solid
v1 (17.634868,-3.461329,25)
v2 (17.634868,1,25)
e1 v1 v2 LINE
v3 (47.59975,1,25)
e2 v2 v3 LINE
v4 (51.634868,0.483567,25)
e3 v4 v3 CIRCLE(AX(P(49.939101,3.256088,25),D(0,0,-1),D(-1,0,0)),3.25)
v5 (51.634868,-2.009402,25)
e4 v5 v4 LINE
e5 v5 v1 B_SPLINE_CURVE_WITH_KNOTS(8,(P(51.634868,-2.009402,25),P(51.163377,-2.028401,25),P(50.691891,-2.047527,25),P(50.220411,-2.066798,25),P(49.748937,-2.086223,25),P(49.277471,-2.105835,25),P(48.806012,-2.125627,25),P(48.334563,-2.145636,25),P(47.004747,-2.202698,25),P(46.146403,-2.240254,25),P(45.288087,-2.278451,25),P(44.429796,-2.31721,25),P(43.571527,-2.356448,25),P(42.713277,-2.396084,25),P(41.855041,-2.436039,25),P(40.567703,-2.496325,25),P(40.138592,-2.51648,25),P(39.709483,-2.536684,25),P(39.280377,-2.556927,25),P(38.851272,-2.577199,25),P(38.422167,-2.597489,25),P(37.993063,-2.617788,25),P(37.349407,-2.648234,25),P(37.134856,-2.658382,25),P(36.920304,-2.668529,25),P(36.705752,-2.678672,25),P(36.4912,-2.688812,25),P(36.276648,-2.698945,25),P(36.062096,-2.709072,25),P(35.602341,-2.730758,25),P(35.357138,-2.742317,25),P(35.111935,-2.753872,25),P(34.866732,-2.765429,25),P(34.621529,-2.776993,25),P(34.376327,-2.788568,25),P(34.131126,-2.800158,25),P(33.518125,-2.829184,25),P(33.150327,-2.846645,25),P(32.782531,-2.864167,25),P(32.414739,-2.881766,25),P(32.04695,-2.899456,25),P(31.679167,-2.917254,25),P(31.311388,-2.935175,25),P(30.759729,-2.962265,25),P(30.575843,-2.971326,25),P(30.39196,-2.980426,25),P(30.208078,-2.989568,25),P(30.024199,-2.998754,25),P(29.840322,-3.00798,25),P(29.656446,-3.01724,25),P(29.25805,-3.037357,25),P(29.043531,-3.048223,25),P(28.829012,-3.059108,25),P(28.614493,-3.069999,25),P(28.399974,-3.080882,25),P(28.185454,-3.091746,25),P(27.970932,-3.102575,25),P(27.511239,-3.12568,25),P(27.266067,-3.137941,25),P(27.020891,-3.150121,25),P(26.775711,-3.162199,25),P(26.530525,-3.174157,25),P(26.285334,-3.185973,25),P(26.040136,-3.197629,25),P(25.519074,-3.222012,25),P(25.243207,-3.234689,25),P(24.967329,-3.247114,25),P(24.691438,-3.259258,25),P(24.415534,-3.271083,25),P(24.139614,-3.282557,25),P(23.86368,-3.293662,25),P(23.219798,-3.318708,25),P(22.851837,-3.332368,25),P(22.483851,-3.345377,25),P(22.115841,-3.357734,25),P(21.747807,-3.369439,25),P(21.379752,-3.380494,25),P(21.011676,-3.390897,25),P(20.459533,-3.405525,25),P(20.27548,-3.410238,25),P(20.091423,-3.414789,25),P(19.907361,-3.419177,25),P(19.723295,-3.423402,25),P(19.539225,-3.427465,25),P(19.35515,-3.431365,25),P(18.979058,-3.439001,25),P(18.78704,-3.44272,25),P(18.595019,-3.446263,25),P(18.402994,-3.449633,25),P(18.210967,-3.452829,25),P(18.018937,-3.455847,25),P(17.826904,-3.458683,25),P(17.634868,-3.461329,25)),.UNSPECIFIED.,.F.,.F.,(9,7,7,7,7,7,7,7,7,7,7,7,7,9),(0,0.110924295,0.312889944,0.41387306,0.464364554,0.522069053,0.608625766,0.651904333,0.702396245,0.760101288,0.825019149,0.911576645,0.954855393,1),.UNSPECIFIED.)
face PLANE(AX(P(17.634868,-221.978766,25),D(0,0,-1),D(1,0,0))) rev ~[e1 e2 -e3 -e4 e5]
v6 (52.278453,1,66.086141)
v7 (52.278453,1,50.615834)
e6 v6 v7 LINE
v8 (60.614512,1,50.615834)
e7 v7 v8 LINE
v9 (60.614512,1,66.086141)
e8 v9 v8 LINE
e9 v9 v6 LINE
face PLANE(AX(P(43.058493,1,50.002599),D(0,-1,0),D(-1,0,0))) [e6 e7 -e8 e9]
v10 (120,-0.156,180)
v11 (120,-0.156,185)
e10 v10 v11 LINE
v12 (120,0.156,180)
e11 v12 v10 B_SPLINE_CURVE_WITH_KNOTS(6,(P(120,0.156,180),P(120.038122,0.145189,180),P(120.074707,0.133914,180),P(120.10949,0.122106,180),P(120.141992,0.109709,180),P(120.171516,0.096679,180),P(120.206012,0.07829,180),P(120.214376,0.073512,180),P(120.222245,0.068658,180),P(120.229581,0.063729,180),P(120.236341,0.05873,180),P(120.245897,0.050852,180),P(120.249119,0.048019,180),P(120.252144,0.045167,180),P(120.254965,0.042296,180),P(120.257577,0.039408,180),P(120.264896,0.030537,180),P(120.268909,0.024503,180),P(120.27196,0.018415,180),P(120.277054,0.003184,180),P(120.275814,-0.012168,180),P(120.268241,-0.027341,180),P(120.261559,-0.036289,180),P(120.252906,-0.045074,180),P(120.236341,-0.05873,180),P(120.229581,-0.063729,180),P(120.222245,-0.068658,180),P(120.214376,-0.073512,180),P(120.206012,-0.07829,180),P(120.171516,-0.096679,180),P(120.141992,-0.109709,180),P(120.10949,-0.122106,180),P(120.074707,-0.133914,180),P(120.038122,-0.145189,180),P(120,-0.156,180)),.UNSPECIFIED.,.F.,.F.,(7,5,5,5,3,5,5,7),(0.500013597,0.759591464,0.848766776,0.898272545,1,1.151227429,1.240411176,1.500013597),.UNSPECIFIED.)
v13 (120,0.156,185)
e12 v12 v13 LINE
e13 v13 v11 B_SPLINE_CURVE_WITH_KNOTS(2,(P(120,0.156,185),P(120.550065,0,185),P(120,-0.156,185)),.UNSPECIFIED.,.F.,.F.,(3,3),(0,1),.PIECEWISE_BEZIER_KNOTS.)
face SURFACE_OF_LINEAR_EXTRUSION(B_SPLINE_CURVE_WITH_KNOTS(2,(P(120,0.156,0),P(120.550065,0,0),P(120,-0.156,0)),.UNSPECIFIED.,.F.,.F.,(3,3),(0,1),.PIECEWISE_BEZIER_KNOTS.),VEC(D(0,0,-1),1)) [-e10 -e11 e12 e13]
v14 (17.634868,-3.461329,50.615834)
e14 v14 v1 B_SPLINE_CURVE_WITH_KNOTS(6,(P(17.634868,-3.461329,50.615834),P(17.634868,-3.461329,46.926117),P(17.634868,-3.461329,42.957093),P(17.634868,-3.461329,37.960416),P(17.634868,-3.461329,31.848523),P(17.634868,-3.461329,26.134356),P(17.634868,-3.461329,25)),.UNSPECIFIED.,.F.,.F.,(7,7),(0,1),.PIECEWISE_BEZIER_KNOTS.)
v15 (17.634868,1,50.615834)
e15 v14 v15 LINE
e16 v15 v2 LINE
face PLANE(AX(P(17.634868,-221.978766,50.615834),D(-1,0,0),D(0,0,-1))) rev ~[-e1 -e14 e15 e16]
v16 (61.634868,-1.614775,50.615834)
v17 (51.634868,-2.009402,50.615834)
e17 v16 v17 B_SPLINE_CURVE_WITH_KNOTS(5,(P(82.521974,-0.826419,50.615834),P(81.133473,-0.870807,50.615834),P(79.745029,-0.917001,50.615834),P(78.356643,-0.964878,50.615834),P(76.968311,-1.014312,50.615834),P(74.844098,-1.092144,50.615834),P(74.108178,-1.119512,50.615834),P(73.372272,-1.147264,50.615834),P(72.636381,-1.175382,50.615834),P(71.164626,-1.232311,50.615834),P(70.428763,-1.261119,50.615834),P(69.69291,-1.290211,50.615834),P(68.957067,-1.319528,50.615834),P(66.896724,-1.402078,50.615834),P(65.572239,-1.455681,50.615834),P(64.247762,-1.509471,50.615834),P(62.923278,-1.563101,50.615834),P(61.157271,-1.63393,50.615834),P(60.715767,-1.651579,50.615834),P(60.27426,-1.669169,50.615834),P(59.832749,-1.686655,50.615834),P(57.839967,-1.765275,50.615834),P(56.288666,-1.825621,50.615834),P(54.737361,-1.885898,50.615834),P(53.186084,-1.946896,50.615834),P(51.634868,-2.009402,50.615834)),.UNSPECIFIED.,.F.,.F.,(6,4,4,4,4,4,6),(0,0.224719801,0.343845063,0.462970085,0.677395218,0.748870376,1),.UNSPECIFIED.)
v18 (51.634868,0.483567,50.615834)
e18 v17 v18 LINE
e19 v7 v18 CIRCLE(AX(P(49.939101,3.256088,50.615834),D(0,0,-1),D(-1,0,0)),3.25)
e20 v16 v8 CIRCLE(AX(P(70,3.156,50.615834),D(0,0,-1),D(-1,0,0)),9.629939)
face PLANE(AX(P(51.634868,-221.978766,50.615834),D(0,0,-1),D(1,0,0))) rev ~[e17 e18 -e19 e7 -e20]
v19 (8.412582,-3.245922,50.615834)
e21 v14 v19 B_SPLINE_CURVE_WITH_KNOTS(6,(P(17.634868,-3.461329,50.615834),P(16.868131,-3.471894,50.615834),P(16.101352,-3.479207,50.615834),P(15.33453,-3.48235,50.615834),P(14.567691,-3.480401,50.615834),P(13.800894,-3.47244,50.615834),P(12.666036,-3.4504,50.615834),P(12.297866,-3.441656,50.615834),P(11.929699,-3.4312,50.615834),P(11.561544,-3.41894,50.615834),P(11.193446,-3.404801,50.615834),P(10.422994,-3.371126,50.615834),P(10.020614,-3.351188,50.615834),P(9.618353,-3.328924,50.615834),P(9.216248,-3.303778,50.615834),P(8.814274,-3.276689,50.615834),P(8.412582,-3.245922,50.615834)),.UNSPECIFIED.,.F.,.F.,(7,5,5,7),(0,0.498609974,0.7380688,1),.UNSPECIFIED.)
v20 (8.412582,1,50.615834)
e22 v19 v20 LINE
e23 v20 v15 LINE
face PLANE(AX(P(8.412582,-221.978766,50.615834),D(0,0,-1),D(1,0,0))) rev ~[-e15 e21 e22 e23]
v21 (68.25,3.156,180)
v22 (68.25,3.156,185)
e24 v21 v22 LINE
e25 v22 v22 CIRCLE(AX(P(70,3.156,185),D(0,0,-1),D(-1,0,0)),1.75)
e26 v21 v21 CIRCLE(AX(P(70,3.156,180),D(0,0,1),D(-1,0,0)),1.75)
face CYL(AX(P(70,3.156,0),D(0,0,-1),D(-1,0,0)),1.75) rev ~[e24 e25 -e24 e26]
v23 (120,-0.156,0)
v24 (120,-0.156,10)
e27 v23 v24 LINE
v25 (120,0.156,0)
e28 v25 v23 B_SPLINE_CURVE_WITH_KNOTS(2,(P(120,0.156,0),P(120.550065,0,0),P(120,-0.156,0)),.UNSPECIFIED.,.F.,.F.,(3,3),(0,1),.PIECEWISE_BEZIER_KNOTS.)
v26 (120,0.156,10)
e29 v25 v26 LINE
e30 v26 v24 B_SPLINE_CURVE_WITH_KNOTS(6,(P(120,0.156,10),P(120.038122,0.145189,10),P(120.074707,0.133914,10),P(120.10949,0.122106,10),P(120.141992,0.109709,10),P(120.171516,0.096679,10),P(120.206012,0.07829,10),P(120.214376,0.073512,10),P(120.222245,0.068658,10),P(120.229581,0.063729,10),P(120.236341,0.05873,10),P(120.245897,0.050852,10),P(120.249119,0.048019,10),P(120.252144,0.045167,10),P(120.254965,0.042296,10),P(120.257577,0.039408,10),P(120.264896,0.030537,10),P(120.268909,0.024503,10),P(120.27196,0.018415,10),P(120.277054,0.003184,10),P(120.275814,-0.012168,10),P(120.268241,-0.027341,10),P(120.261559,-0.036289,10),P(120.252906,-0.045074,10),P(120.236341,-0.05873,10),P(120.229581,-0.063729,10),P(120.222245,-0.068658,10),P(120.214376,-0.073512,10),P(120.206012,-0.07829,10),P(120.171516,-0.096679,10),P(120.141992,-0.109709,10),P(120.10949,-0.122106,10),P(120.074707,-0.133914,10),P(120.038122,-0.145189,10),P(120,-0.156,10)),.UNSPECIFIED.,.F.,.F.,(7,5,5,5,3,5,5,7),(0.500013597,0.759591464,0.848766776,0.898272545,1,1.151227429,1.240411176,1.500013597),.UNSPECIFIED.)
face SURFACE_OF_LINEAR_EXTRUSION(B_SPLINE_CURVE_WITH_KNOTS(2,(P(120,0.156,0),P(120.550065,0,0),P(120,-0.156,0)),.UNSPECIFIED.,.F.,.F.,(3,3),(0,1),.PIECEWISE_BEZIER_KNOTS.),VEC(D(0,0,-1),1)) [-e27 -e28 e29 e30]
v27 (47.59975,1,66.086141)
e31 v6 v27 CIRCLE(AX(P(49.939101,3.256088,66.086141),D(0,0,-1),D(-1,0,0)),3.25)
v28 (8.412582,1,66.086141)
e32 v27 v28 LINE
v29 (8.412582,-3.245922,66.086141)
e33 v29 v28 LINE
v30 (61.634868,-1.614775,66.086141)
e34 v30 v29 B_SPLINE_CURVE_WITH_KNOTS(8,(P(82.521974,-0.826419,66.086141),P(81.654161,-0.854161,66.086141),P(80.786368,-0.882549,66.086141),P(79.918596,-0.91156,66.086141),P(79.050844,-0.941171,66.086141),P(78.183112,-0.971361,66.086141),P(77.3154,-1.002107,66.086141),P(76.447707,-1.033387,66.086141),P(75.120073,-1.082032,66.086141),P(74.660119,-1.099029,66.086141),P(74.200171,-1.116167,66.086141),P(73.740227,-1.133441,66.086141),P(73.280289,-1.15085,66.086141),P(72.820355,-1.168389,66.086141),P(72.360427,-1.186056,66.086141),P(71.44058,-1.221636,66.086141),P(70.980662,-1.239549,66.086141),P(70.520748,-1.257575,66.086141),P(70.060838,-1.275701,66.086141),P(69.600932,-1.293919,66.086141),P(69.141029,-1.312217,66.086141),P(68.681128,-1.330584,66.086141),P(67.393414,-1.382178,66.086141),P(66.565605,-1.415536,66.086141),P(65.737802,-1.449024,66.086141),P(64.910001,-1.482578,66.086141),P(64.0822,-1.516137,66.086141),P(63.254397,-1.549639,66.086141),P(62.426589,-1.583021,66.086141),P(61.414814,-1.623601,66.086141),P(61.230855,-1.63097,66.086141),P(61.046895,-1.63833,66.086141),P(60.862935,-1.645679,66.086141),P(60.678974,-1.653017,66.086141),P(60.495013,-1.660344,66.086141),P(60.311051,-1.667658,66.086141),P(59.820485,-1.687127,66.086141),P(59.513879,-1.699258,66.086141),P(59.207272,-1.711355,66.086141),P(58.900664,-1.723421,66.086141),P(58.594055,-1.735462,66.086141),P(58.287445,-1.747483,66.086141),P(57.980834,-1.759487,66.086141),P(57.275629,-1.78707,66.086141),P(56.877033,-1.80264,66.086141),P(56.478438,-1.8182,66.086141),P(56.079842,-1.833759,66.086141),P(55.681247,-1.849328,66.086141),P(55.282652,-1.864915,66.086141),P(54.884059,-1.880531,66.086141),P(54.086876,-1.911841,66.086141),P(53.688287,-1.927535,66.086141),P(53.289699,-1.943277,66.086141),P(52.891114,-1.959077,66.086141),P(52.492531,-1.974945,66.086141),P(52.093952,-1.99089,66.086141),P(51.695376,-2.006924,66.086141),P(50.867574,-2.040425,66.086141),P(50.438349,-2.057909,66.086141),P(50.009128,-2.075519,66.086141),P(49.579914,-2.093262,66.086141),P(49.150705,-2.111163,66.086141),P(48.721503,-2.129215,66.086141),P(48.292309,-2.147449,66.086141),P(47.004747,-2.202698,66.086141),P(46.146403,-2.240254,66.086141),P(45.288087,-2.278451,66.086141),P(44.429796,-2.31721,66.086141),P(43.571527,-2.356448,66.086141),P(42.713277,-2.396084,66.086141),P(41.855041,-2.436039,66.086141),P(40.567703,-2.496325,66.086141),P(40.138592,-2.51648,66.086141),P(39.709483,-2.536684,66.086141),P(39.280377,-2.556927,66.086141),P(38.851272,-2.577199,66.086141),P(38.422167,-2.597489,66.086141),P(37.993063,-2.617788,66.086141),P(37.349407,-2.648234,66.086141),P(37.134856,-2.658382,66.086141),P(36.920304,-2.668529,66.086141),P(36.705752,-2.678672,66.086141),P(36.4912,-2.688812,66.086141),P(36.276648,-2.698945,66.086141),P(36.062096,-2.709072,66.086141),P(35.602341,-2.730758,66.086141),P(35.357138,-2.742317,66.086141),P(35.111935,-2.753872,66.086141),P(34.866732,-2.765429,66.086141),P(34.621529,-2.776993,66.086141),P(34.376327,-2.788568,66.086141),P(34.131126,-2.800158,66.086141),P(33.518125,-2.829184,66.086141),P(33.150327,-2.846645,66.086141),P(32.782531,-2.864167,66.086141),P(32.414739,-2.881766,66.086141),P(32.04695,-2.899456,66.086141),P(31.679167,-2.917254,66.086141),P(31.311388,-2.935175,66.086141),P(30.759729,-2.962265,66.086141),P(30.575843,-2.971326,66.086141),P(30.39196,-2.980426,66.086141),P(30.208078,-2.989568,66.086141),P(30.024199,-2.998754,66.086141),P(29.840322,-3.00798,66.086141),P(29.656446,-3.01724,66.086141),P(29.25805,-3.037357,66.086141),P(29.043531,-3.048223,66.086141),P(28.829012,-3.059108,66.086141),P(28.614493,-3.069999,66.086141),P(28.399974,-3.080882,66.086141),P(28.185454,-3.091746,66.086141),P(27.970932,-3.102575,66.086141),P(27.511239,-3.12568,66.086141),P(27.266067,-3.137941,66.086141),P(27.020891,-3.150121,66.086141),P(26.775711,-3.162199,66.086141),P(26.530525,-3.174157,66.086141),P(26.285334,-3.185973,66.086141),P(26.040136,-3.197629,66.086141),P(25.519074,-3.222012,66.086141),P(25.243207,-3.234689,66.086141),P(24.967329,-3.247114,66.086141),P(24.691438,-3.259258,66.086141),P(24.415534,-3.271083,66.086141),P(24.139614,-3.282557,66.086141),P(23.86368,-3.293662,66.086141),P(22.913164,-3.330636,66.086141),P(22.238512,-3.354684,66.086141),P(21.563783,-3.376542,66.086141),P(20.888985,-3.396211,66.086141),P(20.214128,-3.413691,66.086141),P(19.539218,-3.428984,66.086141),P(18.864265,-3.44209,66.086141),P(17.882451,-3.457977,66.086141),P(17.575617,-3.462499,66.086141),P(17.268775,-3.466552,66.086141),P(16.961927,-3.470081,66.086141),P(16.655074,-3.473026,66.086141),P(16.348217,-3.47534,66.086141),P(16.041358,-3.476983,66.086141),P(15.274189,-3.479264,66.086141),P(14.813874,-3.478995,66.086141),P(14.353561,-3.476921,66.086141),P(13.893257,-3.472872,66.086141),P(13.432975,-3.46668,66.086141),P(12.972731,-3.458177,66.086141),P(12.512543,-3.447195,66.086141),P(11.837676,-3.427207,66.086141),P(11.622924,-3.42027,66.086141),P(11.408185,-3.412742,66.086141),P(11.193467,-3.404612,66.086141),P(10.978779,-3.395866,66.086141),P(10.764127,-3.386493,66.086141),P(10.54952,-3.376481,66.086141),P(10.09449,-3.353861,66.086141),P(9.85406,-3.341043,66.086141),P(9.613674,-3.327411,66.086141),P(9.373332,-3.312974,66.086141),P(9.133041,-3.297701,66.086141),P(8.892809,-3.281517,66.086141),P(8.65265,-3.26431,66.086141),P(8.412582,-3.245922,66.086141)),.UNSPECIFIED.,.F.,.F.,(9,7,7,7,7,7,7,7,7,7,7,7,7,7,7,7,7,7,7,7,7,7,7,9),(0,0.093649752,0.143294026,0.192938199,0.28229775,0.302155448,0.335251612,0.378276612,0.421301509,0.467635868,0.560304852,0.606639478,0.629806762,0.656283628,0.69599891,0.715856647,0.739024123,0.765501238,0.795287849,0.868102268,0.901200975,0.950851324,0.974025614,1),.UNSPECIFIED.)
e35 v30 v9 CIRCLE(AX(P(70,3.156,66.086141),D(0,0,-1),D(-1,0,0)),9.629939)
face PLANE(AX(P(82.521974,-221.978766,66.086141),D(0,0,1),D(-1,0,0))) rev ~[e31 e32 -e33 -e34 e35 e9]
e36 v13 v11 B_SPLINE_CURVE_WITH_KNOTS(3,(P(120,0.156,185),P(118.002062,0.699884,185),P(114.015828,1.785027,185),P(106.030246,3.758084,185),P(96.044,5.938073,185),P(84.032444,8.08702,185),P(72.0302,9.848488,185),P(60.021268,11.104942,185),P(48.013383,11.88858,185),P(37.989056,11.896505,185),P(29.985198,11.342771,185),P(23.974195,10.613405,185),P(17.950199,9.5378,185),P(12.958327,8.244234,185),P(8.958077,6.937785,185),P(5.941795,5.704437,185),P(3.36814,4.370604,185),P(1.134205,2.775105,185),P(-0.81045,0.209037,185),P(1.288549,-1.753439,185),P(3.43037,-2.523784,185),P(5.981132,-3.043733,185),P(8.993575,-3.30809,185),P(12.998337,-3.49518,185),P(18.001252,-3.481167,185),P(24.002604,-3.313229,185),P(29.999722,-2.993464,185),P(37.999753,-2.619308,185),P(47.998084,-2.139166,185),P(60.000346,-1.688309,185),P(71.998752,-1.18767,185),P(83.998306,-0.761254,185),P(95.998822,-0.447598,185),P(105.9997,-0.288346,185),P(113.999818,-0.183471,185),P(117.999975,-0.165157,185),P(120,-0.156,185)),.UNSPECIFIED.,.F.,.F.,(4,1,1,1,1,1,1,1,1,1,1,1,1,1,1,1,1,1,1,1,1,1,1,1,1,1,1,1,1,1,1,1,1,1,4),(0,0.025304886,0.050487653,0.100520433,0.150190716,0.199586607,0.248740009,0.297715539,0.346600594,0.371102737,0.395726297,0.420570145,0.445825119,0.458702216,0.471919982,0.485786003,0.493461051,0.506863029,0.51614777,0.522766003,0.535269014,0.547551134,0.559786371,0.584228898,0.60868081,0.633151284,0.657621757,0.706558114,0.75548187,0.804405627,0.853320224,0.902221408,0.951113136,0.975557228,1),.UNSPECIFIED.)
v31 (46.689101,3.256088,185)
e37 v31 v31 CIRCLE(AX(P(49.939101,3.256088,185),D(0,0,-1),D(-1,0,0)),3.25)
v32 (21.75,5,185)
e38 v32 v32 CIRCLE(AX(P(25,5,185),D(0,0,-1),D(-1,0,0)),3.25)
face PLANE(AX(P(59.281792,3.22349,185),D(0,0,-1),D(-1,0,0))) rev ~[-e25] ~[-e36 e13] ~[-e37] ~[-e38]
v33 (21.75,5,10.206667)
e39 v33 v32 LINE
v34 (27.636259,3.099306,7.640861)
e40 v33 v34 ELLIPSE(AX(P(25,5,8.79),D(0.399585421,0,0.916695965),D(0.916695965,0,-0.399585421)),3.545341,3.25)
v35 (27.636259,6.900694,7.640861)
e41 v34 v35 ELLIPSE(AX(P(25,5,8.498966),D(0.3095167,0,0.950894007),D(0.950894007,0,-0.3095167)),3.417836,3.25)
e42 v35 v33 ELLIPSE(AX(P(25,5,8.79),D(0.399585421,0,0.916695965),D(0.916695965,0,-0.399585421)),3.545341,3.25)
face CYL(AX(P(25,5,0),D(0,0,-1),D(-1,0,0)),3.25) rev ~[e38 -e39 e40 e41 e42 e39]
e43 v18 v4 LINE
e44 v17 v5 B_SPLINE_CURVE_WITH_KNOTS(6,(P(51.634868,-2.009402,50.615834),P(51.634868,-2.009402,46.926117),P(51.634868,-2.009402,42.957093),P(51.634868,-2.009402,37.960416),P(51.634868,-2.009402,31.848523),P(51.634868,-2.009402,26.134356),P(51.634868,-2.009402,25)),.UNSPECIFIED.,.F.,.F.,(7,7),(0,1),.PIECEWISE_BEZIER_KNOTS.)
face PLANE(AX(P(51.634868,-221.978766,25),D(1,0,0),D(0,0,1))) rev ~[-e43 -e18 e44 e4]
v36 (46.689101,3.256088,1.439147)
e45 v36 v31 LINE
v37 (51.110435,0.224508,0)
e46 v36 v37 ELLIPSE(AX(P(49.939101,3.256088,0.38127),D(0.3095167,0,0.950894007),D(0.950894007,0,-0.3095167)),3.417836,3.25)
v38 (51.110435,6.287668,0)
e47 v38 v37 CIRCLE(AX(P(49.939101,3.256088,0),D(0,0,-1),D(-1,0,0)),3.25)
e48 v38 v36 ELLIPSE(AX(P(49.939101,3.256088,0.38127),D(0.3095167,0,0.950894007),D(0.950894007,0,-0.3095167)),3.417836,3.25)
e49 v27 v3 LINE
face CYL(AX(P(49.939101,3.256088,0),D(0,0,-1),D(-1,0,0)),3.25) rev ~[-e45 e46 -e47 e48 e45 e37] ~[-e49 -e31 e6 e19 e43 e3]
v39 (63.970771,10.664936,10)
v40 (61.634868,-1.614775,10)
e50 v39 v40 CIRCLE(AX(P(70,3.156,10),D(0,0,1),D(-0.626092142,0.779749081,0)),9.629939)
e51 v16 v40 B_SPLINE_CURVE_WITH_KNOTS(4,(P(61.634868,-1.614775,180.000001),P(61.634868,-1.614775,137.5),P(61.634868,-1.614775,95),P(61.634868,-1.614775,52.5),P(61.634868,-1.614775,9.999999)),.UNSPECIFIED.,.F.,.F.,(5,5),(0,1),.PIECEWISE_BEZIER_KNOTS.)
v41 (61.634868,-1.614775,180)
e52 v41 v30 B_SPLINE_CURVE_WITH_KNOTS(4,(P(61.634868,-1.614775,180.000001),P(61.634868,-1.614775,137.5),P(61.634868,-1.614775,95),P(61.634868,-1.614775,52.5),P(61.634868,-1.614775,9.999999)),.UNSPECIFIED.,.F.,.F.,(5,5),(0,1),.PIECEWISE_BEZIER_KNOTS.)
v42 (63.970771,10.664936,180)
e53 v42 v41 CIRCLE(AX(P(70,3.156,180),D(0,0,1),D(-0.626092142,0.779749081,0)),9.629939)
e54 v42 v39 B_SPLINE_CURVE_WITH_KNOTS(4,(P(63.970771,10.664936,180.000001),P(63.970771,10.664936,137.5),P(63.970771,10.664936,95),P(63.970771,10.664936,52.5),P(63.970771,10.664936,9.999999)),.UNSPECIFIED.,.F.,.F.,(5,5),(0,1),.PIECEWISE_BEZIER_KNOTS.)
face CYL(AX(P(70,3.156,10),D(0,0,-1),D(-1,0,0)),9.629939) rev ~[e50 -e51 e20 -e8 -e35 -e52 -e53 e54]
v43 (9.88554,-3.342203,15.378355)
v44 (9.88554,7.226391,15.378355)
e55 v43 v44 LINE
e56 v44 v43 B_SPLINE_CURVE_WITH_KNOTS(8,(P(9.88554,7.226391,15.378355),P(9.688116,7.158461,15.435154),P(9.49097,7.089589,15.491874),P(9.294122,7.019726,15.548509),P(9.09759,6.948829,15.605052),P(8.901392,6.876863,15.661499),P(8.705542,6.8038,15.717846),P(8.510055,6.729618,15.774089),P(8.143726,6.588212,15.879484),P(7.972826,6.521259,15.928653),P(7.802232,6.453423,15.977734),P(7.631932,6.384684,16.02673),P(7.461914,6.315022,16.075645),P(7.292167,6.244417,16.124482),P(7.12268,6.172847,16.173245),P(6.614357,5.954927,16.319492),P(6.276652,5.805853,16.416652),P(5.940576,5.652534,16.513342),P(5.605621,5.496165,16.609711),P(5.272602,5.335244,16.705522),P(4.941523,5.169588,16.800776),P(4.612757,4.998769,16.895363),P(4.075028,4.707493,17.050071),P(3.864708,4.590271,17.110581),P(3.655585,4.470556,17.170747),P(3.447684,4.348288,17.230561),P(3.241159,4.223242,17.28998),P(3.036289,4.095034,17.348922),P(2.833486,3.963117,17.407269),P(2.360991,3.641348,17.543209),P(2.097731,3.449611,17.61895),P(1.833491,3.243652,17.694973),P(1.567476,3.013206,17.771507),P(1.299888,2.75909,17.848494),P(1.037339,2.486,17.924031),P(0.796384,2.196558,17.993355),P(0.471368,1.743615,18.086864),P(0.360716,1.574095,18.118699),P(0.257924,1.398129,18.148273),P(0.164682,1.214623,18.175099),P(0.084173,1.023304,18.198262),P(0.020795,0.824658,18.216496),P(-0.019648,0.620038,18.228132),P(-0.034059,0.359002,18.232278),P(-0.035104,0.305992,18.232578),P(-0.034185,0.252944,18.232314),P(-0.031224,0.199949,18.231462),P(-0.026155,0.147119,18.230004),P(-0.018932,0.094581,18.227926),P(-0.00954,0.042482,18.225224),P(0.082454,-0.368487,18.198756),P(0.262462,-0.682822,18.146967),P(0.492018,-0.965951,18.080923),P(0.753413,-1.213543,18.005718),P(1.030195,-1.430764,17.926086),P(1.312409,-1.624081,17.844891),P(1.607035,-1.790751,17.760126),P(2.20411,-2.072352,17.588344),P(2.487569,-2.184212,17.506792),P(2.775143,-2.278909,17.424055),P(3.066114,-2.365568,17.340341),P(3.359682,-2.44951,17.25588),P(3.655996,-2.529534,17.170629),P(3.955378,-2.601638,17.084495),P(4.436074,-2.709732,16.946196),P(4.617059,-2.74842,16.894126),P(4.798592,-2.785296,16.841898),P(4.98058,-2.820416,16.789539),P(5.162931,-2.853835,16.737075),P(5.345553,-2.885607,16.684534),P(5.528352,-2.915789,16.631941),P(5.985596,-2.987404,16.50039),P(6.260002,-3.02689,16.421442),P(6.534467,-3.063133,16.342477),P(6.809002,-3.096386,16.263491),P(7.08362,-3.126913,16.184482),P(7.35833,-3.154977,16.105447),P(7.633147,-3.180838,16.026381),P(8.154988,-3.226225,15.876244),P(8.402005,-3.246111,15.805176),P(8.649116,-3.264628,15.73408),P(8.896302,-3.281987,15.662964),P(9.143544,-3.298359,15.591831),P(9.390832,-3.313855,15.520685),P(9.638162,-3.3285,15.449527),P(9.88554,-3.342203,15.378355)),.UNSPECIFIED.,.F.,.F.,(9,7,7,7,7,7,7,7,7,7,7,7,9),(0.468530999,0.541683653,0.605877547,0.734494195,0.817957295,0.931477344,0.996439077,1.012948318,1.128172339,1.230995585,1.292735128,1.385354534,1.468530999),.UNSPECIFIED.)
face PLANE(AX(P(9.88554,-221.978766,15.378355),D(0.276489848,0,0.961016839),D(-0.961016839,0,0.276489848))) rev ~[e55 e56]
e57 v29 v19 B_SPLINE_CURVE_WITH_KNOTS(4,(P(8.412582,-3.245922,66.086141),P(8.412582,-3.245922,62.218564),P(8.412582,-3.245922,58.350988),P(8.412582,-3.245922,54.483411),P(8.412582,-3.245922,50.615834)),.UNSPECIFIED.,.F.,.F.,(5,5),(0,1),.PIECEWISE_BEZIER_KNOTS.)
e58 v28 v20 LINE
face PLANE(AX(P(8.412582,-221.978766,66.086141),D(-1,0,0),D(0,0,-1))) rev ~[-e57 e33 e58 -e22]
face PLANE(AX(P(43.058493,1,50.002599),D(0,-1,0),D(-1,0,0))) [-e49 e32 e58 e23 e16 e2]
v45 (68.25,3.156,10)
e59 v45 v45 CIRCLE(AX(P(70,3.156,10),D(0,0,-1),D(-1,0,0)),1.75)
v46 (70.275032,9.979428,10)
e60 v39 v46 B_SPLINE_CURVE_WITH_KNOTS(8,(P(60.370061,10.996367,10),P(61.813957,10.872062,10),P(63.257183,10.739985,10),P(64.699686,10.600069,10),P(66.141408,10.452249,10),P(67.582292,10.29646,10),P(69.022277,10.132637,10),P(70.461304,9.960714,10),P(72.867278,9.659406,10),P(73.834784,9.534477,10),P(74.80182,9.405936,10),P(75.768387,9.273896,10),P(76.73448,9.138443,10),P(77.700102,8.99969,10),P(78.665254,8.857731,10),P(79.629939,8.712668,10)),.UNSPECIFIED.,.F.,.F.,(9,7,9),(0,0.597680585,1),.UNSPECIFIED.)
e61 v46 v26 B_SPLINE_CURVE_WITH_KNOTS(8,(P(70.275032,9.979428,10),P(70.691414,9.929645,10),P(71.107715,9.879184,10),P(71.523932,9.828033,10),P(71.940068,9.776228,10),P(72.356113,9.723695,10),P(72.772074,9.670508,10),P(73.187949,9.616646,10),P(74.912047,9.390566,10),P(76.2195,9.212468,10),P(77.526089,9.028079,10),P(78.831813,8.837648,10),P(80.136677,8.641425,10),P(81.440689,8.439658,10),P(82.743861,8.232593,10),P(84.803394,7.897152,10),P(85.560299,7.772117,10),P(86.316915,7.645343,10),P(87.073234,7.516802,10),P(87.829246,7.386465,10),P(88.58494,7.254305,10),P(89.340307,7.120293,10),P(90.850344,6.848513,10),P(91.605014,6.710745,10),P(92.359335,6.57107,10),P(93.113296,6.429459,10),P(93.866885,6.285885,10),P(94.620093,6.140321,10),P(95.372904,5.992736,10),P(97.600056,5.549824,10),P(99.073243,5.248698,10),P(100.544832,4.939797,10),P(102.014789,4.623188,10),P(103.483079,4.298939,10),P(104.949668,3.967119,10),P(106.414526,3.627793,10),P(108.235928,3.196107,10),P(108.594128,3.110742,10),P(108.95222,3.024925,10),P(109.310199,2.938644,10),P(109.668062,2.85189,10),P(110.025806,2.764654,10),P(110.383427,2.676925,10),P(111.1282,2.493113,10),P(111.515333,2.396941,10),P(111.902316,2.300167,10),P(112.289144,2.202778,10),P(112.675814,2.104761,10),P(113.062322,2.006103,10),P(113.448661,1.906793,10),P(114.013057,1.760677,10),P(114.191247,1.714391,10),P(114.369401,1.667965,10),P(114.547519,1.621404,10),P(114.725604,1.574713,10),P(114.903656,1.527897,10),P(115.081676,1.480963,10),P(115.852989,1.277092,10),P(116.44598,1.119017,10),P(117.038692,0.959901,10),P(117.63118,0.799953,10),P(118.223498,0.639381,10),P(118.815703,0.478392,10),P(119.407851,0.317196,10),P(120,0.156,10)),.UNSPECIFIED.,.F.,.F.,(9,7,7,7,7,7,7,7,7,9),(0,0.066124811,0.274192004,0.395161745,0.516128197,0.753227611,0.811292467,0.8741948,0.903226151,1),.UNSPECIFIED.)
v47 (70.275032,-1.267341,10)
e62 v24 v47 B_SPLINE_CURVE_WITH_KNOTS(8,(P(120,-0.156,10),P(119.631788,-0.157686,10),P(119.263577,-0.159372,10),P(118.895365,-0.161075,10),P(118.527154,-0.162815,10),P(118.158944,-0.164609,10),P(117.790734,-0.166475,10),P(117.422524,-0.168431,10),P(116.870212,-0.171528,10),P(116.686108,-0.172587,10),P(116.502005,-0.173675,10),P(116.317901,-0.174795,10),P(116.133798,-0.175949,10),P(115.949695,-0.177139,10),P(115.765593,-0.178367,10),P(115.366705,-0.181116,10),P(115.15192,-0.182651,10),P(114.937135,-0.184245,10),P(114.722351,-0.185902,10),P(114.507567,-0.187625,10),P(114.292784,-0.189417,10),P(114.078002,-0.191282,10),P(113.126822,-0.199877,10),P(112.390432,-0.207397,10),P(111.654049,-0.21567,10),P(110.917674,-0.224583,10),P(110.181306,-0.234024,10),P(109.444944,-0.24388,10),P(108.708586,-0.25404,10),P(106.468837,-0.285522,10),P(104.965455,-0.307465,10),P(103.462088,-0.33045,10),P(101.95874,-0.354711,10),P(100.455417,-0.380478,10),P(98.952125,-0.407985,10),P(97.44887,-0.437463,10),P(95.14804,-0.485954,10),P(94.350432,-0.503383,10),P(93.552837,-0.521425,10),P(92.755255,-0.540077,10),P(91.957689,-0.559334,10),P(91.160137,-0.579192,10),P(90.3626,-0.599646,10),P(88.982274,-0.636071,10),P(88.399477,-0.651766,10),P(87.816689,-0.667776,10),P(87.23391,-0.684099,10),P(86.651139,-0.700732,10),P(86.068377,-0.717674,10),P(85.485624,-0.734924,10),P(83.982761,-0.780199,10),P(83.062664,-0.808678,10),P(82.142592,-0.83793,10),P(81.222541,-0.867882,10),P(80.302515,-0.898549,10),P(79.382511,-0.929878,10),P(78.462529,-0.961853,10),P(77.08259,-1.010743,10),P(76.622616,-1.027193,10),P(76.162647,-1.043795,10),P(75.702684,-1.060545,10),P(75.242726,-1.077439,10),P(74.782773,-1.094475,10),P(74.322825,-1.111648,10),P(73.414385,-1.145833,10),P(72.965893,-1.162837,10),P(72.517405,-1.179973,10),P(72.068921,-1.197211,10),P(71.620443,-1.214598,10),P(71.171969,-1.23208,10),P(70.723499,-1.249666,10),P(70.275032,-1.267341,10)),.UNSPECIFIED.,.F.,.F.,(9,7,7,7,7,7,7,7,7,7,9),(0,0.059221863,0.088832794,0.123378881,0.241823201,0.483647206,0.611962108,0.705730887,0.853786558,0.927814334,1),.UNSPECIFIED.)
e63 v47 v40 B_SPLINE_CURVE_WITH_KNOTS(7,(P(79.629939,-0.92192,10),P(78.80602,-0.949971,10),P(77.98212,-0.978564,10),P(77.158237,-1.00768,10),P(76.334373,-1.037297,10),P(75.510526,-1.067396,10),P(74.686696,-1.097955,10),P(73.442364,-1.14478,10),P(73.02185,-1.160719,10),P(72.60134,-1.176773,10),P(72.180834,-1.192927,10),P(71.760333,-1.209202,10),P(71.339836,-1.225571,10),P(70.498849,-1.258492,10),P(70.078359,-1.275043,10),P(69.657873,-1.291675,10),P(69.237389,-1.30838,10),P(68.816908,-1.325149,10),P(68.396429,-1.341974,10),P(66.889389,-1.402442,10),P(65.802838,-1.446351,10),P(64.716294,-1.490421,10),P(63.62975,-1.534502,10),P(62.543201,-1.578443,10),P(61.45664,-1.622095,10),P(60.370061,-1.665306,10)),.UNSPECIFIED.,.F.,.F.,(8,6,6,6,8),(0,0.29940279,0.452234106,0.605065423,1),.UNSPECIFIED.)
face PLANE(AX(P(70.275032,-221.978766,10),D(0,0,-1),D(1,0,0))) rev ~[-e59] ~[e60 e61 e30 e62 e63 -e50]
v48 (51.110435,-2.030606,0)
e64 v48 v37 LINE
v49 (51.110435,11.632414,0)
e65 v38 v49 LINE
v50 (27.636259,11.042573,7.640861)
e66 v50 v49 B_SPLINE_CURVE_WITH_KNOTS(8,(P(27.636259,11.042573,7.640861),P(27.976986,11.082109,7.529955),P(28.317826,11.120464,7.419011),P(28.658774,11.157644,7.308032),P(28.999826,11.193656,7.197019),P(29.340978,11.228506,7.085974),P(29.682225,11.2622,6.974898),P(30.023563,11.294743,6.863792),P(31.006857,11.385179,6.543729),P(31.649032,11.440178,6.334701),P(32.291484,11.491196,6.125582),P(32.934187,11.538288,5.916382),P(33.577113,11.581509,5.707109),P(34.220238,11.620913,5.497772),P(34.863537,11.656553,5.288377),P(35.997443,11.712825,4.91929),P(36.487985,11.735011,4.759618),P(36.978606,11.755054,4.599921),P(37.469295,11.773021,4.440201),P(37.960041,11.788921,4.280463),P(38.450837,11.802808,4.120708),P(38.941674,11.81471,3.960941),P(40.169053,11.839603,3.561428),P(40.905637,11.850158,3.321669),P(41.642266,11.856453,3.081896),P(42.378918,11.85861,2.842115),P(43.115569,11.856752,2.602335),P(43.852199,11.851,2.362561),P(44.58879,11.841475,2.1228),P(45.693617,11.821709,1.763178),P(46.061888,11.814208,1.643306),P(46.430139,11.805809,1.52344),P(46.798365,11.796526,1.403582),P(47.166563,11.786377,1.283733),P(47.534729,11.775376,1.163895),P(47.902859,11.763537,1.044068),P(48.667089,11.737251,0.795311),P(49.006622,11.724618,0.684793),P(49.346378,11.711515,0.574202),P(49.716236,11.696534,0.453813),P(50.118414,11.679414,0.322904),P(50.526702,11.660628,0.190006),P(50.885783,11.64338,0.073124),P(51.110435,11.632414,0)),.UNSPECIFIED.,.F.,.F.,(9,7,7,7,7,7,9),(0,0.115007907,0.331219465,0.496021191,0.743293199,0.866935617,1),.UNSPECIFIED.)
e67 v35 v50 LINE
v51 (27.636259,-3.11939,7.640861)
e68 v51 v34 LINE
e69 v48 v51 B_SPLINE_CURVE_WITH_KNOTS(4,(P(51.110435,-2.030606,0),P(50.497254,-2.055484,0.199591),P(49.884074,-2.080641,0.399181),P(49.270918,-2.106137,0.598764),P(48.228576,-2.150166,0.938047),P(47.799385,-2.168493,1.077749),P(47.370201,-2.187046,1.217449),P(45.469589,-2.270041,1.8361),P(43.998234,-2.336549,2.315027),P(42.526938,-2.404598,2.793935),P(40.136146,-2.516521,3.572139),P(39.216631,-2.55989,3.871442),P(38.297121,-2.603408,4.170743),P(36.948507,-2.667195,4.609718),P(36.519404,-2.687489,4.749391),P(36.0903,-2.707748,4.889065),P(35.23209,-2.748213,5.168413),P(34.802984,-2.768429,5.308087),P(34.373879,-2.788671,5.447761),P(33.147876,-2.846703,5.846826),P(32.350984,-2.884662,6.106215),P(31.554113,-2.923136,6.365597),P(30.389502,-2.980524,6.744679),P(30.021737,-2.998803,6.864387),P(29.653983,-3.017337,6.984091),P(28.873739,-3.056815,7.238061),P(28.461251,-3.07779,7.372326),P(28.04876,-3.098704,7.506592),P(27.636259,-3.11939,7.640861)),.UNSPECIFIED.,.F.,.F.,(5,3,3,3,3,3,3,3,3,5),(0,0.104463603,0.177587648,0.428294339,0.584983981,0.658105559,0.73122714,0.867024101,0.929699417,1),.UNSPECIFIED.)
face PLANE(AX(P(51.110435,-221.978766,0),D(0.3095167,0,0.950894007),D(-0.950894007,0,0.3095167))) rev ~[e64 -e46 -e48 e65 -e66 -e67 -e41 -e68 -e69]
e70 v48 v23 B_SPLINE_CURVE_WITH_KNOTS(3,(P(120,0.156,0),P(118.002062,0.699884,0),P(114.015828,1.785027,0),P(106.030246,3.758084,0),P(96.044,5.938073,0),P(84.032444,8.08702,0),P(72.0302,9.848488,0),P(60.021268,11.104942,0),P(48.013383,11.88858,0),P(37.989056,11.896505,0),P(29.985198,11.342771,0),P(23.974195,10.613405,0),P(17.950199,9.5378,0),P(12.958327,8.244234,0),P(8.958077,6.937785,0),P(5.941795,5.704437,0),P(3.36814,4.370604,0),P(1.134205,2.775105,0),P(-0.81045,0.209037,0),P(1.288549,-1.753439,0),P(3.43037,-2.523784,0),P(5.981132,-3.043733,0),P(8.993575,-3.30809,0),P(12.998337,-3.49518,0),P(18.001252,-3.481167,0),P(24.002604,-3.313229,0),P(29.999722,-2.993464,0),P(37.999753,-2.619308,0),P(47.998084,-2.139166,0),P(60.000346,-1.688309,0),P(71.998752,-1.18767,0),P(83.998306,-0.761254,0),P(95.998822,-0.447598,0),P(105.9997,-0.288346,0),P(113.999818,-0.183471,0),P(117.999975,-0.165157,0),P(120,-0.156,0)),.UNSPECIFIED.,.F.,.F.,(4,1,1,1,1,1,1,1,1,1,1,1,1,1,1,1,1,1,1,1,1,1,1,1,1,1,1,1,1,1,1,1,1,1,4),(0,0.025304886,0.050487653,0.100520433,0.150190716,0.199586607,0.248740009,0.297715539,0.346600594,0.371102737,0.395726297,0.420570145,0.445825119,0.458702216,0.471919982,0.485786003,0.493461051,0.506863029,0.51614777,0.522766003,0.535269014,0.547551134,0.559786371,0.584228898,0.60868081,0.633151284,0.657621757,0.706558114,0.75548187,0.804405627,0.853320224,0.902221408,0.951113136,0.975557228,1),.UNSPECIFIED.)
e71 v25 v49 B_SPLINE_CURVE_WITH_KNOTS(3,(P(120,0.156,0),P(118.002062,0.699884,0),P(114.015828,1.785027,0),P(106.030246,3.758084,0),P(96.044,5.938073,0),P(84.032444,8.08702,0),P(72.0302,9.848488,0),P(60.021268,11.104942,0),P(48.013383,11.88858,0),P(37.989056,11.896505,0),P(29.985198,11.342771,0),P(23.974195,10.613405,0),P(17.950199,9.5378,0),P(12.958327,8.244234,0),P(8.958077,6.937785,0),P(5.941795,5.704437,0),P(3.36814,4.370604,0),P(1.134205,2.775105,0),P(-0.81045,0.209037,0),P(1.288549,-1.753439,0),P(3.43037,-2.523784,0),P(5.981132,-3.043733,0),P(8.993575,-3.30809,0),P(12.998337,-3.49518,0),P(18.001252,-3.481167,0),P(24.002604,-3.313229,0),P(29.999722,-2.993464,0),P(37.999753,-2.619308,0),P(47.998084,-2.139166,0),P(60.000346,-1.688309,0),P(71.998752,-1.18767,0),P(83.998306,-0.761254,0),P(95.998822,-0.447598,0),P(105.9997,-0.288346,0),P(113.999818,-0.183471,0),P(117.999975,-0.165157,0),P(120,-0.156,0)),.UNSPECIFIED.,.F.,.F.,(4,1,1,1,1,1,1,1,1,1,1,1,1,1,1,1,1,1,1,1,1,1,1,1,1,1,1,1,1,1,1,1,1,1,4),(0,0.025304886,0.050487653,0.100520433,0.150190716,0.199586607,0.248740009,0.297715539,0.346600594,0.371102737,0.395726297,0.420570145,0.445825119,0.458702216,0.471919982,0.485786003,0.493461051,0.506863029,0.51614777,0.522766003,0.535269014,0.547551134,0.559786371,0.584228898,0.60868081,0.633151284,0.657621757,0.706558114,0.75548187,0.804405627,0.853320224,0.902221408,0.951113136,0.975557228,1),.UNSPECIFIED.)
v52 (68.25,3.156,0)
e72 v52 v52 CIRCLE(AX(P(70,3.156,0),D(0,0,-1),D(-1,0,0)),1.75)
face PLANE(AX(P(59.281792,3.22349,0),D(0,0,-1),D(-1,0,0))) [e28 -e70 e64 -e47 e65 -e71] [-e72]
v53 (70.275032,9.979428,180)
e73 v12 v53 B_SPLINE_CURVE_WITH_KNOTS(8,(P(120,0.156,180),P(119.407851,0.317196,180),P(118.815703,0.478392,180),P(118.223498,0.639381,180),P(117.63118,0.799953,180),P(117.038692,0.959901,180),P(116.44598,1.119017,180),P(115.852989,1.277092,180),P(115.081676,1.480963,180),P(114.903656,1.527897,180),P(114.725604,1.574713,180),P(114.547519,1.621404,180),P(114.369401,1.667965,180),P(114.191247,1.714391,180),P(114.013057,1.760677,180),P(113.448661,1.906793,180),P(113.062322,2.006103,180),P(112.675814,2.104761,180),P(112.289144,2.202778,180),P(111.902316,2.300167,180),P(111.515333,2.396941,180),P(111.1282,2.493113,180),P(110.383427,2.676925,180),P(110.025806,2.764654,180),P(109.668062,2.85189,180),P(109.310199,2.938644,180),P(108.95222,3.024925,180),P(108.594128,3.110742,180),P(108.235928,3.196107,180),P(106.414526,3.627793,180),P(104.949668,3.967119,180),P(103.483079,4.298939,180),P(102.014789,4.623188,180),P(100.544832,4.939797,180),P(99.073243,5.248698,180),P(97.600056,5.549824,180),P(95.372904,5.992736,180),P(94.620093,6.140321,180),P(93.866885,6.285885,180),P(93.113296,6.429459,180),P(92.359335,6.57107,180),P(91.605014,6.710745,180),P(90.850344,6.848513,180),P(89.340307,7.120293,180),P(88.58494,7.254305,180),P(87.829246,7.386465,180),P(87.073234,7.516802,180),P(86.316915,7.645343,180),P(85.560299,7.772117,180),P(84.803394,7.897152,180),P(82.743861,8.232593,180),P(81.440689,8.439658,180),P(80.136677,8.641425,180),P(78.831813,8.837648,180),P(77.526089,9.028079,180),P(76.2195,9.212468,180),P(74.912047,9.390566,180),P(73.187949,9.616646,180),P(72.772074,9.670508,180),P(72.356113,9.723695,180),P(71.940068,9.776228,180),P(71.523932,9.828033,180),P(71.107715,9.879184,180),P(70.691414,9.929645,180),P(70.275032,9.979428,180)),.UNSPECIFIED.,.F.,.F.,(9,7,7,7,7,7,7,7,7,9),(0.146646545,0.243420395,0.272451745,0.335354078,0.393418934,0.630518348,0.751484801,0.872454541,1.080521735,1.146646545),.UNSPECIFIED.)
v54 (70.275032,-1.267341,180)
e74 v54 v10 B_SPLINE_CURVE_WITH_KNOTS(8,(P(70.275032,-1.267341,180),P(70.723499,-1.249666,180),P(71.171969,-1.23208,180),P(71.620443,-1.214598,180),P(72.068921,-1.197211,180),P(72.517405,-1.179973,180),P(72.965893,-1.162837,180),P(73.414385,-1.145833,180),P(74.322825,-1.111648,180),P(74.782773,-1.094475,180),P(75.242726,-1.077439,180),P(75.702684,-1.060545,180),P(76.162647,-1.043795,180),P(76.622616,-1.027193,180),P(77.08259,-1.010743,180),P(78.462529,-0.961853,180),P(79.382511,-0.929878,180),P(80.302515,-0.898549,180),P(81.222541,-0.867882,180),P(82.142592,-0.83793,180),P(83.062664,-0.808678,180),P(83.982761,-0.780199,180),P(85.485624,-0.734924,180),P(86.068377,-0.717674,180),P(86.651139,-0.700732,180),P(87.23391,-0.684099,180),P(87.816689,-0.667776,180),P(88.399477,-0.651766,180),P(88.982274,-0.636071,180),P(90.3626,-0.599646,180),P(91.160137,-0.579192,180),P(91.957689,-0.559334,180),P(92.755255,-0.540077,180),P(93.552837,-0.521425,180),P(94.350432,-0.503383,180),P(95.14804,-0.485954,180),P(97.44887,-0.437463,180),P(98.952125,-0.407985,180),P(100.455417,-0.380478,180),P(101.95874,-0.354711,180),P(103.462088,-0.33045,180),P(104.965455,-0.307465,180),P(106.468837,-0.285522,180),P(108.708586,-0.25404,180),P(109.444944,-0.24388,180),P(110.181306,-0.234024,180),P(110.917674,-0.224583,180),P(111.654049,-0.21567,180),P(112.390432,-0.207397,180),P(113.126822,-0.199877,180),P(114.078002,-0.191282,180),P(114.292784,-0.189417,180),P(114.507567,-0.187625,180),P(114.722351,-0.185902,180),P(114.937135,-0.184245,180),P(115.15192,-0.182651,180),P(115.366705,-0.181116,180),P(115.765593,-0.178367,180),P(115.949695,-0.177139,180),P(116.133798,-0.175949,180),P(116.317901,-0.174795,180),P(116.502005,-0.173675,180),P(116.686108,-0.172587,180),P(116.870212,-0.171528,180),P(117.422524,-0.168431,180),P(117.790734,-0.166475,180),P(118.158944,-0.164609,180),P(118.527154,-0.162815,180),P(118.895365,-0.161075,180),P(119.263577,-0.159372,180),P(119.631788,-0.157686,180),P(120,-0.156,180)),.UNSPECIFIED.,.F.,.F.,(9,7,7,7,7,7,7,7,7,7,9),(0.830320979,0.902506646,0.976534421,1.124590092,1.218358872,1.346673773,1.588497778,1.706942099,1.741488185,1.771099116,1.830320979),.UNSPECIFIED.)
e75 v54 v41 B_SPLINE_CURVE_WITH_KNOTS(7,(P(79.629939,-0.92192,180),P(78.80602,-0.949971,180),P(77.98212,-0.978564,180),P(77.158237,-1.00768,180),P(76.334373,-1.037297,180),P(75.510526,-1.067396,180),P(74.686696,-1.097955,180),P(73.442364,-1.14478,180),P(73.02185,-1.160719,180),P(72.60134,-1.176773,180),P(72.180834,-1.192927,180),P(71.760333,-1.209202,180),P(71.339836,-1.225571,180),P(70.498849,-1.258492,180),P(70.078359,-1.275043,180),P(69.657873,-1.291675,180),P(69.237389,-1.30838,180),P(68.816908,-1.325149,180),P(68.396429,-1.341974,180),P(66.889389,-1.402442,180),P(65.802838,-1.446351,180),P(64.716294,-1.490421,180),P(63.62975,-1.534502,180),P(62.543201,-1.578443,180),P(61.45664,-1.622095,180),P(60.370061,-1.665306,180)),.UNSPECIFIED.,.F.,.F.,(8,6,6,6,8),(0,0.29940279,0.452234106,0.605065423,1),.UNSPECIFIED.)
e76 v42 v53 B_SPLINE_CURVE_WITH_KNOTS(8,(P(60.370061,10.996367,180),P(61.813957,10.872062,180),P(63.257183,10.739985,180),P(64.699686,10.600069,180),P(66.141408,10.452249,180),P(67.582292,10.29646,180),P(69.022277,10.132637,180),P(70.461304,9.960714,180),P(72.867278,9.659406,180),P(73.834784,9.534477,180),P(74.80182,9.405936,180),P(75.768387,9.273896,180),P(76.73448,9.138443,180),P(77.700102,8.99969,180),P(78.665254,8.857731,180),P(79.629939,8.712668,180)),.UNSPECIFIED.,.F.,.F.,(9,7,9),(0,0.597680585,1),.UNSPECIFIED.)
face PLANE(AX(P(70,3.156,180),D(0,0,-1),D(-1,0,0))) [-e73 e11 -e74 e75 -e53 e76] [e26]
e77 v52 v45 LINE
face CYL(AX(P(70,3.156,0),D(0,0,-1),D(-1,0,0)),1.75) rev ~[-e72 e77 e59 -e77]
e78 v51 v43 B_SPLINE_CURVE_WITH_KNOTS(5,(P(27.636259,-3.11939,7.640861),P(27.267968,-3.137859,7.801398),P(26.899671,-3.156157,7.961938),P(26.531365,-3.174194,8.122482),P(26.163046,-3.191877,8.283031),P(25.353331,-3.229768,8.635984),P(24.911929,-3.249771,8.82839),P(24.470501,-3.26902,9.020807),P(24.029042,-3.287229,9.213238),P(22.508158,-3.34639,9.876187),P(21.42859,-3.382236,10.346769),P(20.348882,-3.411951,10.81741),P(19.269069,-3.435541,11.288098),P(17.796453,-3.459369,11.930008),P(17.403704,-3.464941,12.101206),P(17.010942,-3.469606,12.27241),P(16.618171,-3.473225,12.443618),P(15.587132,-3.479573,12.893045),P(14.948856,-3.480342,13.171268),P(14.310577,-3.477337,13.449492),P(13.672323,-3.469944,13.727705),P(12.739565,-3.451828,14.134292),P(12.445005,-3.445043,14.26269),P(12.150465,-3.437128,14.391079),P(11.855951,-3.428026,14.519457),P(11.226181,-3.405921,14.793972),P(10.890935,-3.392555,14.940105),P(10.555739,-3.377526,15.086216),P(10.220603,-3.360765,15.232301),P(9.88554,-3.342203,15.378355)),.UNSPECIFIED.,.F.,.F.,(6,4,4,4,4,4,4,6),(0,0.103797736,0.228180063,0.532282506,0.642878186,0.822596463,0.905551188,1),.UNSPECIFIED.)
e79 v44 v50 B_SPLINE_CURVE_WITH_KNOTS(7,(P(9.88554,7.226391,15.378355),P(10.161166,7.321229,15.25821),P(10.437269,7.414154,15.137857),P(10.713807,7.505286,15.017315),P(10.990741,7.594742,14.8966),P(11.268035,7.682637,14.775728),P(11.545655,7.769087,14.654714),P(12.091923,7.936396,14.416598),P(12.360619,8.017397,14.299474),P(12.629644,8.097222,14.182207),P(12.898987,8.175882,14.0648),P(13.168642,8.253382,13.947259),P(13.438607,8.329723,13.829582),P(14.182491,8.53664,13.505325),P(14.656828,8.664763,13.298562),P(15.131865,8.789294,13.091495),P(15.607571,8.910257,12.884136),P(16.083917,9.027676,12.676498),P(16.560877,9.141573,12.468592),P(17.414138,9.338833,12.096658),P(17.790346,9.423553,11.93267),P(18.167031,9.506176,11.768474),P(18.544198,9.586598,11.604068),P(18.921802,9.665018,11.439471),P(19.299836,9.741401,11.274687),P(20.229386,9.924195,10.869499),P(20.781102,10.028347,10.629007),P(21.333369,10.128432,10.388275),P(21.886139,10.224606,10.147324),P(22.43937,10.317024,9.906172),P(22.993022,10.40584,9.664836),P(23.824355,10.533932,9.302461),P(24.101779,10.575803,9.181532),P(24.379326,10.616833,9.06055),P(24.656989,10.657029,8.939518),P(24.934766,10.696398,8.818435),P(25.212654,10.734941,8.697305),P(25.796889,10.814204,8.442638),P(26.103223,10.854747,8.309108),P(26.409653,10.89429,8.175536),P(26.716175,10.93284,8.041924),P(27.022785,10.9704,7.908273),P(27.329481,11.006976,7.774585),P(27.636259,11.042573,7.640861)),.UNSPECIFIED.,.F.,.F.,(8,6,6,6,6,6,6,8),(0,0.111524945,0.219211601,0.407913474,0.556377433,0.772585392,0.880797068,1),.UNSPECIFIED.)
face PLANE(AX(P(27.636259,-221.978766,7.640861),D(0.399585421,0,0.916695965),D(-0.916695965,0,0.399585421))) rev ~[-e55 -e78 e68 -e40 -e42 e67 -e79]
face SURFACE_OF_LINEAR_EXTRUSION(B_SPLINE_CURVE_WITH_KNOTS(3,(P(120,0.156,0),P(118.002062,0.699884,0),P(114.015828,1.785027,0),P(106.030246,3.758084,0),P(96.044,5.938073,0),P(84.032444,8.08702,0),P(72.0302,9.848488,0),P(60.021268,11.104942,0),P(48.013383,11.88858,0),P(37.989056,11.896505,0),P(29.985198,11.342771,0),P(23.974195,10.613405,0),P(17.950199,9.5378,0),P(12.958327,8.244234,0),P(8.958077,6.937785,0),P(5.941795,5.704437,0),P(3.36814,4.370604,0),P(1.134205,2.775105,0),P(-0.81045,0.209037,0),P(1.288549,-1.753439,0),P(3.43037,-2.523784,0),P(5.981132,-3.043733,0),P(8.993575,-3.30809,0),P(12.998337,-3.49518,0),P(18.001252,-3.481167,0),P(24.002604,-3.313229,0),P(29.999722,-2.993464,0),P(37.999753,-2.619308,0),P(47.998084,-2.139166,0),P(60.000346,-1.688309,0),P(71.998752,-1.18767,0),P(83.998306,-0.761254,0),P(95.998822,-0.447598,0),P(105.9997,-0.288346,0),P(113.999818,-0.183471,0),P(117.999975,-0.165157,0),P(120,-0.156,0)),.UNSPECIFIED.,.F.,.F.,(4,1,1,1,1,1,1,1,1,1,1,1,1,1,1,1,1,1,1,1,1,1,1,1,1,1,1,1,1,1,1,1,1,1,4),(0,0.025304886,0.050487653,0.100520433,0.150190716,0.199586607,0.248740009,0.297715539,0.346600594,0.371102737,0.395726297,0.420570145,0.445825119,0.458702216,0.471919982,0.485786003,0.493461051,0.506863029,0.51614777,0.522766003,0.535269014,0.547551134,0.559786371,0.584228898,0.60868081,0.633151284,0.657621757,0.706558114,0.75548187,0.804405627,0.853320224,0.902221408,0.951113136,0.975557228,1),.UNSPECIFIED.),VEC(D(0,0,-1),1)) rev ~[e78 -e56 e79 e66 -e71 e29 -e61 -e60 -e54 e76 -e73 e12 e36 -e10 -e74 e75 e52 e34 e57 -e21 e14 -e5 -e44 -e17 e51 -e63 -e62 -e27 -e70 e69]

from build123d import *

# Parameters (mm, degrees)
EXTRUDE_1_DEPTH          = 185
SKETCH_2_R               = 3.25
CUT_EXTRUDE_1_DEPTH      = 221.978766148
CUT_EXTRUDE_2_DEPTH      = 221.978766148
CUT_EXTRUDE_2_DEPTH_BACK = 221.978766148
SKETCH_3_W               = 50
SKETCH_3_H               = 170
SKETCH_5_R               = 1.75
CUT_EXTRUDE_3_DEPTH      = 221.978766196
CUT_EXTRUDE_START        = -10
SKETCH_6_R               = 9.629939138
CUT_EXTRUDE_4_DEPTH      = 170
CUT_EXTRUDE_5_DEPTH      = 1
CUT_EXTRUDE_5_DEPTH_BACK = 221.978766196


with BuildPart() as part:
    # 草圖4 → 填料-伸長1 (new body)
    with BuildSketch(Plane.XY):
        with BuildLine():
            add(Edge.make_bspline(
                [(120, 0.156), (120.550064826, 0), (120, -0.156)],
                knots=[0, 0, 0, 1, 1, 1], degree=2))
            add(Edge.make_bspline(
                [(120, 0.156), (118.002062038, 0.699883829), (114.015827899, 1.785026774), (106.030245524, 3.758084328), (96.043999536, 5.938072944), (84.032443886, 8.087020219), (72.030199863, 9.848487706), (60.021268297, 11.104941512), (48.013383082, 11.888579605), (37.989056271, 11.896504921), (29.98519837, 11.342771412), (23.974194566, 10.613404695), (17.950199351, 9.537800408), (12.958326827, 8.244233687), (8.958076554, 6.937785184), (5.941795374, 5.704437414), (3.368139922, 4.370604372), (1.134204878, 2.77510484), (-0.810450078, 0.209036715), (1.28854905, -1.753439419), (3.430370135, -2.523784281), (5.981131747, -3.043733145), (8.993574888, -3.308089705), (12.998336856, -3.495180047), (18.001252309, -3.481166853), (24.002604177, -3.313228981), (29.999721531, -2.993463999), (37.999752898, -2.619308415), (47.998084378, -2.139166009), (60.000346089, -1.688308544), (71.998752124, -1.187669763), (83.99830623, -0.761253895), (95.998821653, -0.44759827), (105.999699706, -0.288346287), (113.999817607, -0.183470629), (117.999975201, -0.165156712), (120, -0.156)],
                knots=[0, 0, 0, 0, 0.025304886, 0.050487653, 0.100520433, 0.150190716, 0.199586607, 0.248740009, 0.297715539, 0.346600594, 0.371102737, 0.395726297, 0.420570145, 0.445825119, 0.458702216, 0.471919982, 0.485786003, 0.493461051, 0.506863029, 0.51614777, 0.522766003, 0.535269014, 0.547551134, 0.559786371, 0.584228898, 0.60868081, 0.633151284, 0.657621757, 0.706558114, 0.75548187, 0.804405627, 0.853320224, 0.902221408, 0.951113136, 0.975557228, 1, 1, 1, 1], degree=3))
        make_face()
    extrude(amount=EXTRUDE_1_DEPTH)

    # 草圖2 → 除料-伸長1 (cut, through all)
    with BuildSketch(Plane(origin=(0, 0, 0), x_dir=(-1, 0, 0), z_dir=(0, 0, -1))):
        with Locations((-25, 5)):
            Circle(SKETCH_2_R)
        with Locations((-49.939101256, 3.256088156)):
            Circle(SKETCH_2_R)
    extrude(amount=-CUT_EXTRUDE_1_DEPTH, mode=Mode.SUBTRACT)

    # 草圖3 → 除料-伸長2 (cut, two sides: drawn at the far end of the back side and taken through both)
    with BuildSketch(Plane(origin=(0, 0, 0), x_dir=(1, 0, 0), z_dir=(0, 1, 0)).offset(-CUT_EXTRUDE_2_DEPTH_BACK)):
        with Locations((95.275032413, -95)):
            Rectangle(SKETCH_3_W, SKETCH_3_H)
        Polygon((51.110434759, 0), (27.636259388, -7.640861389), (9.885539584, -15.378354637), (-0.033686903, -18.232170833), (-0.033686903, 0), align=None)
    extrude(amount=CUT_EXTRUDE_2_DEPTH + CUT_EXTRUDE_2_DEPTH_BACK, mode=Mode.SUBTRACT)

    # 草圖5 → 除料-伸長3 (cut, through all)
    with BuildSketch(Plane(origin=(0, 0, 0), x_dir=(-1, 0, 0), z_dir=(0, 0, -1))):
        with Locations((-70, 3.156)):
            Circle(SKETCH_5_R)
    extrude(amount=-CUT_EXTRUDE_3_DEPTH, mode=Mode.SUBTRACT)

    # 草圖6 → 除料-伸長4 (cut)
    with BuildSketch(Plane(origin=(0, 0, 0), x_dir=(-1, 0, 0), z_dir=(0, 0, -1)).offset(CUT_EXTRUDE_START)):
        with Locations((-70, 3.156)):
            Circle(SKETCH_6_R)
    extrude(amount=-CUT_EXTRUDE_4_DEPTH, mode=Mode.SUBTRACT)

    # 草圖7 → 除料-伸長5 (cut, two sides: drawn at the far end of the back side and taken through both)
    with BuildSketch(Plane(origin=(0, 0, 0), x_dir=(1, 0, 0), z_dir=(0, 1, 0)).offset(-CUT_EXTRUDE_5_DEPTH_BACK)):
        Polygon((17.634868009, -50.615833774), (17.634868009, -25), (51.634868009, -25), (51.634868009, -50.615833774), (82.521973888, -50.615833774), (82.521973888, -66.086141402), (8.412581614, -66.086141402), (8.412581614, -50.615833774), align=None)
    extrude(amount=CUT_EXTRUDE_5_DEPTH + CUT_EXTRUDE_5_DEPTH_BACK, mode=Mode.SUBTRACT)


solid = part.part
